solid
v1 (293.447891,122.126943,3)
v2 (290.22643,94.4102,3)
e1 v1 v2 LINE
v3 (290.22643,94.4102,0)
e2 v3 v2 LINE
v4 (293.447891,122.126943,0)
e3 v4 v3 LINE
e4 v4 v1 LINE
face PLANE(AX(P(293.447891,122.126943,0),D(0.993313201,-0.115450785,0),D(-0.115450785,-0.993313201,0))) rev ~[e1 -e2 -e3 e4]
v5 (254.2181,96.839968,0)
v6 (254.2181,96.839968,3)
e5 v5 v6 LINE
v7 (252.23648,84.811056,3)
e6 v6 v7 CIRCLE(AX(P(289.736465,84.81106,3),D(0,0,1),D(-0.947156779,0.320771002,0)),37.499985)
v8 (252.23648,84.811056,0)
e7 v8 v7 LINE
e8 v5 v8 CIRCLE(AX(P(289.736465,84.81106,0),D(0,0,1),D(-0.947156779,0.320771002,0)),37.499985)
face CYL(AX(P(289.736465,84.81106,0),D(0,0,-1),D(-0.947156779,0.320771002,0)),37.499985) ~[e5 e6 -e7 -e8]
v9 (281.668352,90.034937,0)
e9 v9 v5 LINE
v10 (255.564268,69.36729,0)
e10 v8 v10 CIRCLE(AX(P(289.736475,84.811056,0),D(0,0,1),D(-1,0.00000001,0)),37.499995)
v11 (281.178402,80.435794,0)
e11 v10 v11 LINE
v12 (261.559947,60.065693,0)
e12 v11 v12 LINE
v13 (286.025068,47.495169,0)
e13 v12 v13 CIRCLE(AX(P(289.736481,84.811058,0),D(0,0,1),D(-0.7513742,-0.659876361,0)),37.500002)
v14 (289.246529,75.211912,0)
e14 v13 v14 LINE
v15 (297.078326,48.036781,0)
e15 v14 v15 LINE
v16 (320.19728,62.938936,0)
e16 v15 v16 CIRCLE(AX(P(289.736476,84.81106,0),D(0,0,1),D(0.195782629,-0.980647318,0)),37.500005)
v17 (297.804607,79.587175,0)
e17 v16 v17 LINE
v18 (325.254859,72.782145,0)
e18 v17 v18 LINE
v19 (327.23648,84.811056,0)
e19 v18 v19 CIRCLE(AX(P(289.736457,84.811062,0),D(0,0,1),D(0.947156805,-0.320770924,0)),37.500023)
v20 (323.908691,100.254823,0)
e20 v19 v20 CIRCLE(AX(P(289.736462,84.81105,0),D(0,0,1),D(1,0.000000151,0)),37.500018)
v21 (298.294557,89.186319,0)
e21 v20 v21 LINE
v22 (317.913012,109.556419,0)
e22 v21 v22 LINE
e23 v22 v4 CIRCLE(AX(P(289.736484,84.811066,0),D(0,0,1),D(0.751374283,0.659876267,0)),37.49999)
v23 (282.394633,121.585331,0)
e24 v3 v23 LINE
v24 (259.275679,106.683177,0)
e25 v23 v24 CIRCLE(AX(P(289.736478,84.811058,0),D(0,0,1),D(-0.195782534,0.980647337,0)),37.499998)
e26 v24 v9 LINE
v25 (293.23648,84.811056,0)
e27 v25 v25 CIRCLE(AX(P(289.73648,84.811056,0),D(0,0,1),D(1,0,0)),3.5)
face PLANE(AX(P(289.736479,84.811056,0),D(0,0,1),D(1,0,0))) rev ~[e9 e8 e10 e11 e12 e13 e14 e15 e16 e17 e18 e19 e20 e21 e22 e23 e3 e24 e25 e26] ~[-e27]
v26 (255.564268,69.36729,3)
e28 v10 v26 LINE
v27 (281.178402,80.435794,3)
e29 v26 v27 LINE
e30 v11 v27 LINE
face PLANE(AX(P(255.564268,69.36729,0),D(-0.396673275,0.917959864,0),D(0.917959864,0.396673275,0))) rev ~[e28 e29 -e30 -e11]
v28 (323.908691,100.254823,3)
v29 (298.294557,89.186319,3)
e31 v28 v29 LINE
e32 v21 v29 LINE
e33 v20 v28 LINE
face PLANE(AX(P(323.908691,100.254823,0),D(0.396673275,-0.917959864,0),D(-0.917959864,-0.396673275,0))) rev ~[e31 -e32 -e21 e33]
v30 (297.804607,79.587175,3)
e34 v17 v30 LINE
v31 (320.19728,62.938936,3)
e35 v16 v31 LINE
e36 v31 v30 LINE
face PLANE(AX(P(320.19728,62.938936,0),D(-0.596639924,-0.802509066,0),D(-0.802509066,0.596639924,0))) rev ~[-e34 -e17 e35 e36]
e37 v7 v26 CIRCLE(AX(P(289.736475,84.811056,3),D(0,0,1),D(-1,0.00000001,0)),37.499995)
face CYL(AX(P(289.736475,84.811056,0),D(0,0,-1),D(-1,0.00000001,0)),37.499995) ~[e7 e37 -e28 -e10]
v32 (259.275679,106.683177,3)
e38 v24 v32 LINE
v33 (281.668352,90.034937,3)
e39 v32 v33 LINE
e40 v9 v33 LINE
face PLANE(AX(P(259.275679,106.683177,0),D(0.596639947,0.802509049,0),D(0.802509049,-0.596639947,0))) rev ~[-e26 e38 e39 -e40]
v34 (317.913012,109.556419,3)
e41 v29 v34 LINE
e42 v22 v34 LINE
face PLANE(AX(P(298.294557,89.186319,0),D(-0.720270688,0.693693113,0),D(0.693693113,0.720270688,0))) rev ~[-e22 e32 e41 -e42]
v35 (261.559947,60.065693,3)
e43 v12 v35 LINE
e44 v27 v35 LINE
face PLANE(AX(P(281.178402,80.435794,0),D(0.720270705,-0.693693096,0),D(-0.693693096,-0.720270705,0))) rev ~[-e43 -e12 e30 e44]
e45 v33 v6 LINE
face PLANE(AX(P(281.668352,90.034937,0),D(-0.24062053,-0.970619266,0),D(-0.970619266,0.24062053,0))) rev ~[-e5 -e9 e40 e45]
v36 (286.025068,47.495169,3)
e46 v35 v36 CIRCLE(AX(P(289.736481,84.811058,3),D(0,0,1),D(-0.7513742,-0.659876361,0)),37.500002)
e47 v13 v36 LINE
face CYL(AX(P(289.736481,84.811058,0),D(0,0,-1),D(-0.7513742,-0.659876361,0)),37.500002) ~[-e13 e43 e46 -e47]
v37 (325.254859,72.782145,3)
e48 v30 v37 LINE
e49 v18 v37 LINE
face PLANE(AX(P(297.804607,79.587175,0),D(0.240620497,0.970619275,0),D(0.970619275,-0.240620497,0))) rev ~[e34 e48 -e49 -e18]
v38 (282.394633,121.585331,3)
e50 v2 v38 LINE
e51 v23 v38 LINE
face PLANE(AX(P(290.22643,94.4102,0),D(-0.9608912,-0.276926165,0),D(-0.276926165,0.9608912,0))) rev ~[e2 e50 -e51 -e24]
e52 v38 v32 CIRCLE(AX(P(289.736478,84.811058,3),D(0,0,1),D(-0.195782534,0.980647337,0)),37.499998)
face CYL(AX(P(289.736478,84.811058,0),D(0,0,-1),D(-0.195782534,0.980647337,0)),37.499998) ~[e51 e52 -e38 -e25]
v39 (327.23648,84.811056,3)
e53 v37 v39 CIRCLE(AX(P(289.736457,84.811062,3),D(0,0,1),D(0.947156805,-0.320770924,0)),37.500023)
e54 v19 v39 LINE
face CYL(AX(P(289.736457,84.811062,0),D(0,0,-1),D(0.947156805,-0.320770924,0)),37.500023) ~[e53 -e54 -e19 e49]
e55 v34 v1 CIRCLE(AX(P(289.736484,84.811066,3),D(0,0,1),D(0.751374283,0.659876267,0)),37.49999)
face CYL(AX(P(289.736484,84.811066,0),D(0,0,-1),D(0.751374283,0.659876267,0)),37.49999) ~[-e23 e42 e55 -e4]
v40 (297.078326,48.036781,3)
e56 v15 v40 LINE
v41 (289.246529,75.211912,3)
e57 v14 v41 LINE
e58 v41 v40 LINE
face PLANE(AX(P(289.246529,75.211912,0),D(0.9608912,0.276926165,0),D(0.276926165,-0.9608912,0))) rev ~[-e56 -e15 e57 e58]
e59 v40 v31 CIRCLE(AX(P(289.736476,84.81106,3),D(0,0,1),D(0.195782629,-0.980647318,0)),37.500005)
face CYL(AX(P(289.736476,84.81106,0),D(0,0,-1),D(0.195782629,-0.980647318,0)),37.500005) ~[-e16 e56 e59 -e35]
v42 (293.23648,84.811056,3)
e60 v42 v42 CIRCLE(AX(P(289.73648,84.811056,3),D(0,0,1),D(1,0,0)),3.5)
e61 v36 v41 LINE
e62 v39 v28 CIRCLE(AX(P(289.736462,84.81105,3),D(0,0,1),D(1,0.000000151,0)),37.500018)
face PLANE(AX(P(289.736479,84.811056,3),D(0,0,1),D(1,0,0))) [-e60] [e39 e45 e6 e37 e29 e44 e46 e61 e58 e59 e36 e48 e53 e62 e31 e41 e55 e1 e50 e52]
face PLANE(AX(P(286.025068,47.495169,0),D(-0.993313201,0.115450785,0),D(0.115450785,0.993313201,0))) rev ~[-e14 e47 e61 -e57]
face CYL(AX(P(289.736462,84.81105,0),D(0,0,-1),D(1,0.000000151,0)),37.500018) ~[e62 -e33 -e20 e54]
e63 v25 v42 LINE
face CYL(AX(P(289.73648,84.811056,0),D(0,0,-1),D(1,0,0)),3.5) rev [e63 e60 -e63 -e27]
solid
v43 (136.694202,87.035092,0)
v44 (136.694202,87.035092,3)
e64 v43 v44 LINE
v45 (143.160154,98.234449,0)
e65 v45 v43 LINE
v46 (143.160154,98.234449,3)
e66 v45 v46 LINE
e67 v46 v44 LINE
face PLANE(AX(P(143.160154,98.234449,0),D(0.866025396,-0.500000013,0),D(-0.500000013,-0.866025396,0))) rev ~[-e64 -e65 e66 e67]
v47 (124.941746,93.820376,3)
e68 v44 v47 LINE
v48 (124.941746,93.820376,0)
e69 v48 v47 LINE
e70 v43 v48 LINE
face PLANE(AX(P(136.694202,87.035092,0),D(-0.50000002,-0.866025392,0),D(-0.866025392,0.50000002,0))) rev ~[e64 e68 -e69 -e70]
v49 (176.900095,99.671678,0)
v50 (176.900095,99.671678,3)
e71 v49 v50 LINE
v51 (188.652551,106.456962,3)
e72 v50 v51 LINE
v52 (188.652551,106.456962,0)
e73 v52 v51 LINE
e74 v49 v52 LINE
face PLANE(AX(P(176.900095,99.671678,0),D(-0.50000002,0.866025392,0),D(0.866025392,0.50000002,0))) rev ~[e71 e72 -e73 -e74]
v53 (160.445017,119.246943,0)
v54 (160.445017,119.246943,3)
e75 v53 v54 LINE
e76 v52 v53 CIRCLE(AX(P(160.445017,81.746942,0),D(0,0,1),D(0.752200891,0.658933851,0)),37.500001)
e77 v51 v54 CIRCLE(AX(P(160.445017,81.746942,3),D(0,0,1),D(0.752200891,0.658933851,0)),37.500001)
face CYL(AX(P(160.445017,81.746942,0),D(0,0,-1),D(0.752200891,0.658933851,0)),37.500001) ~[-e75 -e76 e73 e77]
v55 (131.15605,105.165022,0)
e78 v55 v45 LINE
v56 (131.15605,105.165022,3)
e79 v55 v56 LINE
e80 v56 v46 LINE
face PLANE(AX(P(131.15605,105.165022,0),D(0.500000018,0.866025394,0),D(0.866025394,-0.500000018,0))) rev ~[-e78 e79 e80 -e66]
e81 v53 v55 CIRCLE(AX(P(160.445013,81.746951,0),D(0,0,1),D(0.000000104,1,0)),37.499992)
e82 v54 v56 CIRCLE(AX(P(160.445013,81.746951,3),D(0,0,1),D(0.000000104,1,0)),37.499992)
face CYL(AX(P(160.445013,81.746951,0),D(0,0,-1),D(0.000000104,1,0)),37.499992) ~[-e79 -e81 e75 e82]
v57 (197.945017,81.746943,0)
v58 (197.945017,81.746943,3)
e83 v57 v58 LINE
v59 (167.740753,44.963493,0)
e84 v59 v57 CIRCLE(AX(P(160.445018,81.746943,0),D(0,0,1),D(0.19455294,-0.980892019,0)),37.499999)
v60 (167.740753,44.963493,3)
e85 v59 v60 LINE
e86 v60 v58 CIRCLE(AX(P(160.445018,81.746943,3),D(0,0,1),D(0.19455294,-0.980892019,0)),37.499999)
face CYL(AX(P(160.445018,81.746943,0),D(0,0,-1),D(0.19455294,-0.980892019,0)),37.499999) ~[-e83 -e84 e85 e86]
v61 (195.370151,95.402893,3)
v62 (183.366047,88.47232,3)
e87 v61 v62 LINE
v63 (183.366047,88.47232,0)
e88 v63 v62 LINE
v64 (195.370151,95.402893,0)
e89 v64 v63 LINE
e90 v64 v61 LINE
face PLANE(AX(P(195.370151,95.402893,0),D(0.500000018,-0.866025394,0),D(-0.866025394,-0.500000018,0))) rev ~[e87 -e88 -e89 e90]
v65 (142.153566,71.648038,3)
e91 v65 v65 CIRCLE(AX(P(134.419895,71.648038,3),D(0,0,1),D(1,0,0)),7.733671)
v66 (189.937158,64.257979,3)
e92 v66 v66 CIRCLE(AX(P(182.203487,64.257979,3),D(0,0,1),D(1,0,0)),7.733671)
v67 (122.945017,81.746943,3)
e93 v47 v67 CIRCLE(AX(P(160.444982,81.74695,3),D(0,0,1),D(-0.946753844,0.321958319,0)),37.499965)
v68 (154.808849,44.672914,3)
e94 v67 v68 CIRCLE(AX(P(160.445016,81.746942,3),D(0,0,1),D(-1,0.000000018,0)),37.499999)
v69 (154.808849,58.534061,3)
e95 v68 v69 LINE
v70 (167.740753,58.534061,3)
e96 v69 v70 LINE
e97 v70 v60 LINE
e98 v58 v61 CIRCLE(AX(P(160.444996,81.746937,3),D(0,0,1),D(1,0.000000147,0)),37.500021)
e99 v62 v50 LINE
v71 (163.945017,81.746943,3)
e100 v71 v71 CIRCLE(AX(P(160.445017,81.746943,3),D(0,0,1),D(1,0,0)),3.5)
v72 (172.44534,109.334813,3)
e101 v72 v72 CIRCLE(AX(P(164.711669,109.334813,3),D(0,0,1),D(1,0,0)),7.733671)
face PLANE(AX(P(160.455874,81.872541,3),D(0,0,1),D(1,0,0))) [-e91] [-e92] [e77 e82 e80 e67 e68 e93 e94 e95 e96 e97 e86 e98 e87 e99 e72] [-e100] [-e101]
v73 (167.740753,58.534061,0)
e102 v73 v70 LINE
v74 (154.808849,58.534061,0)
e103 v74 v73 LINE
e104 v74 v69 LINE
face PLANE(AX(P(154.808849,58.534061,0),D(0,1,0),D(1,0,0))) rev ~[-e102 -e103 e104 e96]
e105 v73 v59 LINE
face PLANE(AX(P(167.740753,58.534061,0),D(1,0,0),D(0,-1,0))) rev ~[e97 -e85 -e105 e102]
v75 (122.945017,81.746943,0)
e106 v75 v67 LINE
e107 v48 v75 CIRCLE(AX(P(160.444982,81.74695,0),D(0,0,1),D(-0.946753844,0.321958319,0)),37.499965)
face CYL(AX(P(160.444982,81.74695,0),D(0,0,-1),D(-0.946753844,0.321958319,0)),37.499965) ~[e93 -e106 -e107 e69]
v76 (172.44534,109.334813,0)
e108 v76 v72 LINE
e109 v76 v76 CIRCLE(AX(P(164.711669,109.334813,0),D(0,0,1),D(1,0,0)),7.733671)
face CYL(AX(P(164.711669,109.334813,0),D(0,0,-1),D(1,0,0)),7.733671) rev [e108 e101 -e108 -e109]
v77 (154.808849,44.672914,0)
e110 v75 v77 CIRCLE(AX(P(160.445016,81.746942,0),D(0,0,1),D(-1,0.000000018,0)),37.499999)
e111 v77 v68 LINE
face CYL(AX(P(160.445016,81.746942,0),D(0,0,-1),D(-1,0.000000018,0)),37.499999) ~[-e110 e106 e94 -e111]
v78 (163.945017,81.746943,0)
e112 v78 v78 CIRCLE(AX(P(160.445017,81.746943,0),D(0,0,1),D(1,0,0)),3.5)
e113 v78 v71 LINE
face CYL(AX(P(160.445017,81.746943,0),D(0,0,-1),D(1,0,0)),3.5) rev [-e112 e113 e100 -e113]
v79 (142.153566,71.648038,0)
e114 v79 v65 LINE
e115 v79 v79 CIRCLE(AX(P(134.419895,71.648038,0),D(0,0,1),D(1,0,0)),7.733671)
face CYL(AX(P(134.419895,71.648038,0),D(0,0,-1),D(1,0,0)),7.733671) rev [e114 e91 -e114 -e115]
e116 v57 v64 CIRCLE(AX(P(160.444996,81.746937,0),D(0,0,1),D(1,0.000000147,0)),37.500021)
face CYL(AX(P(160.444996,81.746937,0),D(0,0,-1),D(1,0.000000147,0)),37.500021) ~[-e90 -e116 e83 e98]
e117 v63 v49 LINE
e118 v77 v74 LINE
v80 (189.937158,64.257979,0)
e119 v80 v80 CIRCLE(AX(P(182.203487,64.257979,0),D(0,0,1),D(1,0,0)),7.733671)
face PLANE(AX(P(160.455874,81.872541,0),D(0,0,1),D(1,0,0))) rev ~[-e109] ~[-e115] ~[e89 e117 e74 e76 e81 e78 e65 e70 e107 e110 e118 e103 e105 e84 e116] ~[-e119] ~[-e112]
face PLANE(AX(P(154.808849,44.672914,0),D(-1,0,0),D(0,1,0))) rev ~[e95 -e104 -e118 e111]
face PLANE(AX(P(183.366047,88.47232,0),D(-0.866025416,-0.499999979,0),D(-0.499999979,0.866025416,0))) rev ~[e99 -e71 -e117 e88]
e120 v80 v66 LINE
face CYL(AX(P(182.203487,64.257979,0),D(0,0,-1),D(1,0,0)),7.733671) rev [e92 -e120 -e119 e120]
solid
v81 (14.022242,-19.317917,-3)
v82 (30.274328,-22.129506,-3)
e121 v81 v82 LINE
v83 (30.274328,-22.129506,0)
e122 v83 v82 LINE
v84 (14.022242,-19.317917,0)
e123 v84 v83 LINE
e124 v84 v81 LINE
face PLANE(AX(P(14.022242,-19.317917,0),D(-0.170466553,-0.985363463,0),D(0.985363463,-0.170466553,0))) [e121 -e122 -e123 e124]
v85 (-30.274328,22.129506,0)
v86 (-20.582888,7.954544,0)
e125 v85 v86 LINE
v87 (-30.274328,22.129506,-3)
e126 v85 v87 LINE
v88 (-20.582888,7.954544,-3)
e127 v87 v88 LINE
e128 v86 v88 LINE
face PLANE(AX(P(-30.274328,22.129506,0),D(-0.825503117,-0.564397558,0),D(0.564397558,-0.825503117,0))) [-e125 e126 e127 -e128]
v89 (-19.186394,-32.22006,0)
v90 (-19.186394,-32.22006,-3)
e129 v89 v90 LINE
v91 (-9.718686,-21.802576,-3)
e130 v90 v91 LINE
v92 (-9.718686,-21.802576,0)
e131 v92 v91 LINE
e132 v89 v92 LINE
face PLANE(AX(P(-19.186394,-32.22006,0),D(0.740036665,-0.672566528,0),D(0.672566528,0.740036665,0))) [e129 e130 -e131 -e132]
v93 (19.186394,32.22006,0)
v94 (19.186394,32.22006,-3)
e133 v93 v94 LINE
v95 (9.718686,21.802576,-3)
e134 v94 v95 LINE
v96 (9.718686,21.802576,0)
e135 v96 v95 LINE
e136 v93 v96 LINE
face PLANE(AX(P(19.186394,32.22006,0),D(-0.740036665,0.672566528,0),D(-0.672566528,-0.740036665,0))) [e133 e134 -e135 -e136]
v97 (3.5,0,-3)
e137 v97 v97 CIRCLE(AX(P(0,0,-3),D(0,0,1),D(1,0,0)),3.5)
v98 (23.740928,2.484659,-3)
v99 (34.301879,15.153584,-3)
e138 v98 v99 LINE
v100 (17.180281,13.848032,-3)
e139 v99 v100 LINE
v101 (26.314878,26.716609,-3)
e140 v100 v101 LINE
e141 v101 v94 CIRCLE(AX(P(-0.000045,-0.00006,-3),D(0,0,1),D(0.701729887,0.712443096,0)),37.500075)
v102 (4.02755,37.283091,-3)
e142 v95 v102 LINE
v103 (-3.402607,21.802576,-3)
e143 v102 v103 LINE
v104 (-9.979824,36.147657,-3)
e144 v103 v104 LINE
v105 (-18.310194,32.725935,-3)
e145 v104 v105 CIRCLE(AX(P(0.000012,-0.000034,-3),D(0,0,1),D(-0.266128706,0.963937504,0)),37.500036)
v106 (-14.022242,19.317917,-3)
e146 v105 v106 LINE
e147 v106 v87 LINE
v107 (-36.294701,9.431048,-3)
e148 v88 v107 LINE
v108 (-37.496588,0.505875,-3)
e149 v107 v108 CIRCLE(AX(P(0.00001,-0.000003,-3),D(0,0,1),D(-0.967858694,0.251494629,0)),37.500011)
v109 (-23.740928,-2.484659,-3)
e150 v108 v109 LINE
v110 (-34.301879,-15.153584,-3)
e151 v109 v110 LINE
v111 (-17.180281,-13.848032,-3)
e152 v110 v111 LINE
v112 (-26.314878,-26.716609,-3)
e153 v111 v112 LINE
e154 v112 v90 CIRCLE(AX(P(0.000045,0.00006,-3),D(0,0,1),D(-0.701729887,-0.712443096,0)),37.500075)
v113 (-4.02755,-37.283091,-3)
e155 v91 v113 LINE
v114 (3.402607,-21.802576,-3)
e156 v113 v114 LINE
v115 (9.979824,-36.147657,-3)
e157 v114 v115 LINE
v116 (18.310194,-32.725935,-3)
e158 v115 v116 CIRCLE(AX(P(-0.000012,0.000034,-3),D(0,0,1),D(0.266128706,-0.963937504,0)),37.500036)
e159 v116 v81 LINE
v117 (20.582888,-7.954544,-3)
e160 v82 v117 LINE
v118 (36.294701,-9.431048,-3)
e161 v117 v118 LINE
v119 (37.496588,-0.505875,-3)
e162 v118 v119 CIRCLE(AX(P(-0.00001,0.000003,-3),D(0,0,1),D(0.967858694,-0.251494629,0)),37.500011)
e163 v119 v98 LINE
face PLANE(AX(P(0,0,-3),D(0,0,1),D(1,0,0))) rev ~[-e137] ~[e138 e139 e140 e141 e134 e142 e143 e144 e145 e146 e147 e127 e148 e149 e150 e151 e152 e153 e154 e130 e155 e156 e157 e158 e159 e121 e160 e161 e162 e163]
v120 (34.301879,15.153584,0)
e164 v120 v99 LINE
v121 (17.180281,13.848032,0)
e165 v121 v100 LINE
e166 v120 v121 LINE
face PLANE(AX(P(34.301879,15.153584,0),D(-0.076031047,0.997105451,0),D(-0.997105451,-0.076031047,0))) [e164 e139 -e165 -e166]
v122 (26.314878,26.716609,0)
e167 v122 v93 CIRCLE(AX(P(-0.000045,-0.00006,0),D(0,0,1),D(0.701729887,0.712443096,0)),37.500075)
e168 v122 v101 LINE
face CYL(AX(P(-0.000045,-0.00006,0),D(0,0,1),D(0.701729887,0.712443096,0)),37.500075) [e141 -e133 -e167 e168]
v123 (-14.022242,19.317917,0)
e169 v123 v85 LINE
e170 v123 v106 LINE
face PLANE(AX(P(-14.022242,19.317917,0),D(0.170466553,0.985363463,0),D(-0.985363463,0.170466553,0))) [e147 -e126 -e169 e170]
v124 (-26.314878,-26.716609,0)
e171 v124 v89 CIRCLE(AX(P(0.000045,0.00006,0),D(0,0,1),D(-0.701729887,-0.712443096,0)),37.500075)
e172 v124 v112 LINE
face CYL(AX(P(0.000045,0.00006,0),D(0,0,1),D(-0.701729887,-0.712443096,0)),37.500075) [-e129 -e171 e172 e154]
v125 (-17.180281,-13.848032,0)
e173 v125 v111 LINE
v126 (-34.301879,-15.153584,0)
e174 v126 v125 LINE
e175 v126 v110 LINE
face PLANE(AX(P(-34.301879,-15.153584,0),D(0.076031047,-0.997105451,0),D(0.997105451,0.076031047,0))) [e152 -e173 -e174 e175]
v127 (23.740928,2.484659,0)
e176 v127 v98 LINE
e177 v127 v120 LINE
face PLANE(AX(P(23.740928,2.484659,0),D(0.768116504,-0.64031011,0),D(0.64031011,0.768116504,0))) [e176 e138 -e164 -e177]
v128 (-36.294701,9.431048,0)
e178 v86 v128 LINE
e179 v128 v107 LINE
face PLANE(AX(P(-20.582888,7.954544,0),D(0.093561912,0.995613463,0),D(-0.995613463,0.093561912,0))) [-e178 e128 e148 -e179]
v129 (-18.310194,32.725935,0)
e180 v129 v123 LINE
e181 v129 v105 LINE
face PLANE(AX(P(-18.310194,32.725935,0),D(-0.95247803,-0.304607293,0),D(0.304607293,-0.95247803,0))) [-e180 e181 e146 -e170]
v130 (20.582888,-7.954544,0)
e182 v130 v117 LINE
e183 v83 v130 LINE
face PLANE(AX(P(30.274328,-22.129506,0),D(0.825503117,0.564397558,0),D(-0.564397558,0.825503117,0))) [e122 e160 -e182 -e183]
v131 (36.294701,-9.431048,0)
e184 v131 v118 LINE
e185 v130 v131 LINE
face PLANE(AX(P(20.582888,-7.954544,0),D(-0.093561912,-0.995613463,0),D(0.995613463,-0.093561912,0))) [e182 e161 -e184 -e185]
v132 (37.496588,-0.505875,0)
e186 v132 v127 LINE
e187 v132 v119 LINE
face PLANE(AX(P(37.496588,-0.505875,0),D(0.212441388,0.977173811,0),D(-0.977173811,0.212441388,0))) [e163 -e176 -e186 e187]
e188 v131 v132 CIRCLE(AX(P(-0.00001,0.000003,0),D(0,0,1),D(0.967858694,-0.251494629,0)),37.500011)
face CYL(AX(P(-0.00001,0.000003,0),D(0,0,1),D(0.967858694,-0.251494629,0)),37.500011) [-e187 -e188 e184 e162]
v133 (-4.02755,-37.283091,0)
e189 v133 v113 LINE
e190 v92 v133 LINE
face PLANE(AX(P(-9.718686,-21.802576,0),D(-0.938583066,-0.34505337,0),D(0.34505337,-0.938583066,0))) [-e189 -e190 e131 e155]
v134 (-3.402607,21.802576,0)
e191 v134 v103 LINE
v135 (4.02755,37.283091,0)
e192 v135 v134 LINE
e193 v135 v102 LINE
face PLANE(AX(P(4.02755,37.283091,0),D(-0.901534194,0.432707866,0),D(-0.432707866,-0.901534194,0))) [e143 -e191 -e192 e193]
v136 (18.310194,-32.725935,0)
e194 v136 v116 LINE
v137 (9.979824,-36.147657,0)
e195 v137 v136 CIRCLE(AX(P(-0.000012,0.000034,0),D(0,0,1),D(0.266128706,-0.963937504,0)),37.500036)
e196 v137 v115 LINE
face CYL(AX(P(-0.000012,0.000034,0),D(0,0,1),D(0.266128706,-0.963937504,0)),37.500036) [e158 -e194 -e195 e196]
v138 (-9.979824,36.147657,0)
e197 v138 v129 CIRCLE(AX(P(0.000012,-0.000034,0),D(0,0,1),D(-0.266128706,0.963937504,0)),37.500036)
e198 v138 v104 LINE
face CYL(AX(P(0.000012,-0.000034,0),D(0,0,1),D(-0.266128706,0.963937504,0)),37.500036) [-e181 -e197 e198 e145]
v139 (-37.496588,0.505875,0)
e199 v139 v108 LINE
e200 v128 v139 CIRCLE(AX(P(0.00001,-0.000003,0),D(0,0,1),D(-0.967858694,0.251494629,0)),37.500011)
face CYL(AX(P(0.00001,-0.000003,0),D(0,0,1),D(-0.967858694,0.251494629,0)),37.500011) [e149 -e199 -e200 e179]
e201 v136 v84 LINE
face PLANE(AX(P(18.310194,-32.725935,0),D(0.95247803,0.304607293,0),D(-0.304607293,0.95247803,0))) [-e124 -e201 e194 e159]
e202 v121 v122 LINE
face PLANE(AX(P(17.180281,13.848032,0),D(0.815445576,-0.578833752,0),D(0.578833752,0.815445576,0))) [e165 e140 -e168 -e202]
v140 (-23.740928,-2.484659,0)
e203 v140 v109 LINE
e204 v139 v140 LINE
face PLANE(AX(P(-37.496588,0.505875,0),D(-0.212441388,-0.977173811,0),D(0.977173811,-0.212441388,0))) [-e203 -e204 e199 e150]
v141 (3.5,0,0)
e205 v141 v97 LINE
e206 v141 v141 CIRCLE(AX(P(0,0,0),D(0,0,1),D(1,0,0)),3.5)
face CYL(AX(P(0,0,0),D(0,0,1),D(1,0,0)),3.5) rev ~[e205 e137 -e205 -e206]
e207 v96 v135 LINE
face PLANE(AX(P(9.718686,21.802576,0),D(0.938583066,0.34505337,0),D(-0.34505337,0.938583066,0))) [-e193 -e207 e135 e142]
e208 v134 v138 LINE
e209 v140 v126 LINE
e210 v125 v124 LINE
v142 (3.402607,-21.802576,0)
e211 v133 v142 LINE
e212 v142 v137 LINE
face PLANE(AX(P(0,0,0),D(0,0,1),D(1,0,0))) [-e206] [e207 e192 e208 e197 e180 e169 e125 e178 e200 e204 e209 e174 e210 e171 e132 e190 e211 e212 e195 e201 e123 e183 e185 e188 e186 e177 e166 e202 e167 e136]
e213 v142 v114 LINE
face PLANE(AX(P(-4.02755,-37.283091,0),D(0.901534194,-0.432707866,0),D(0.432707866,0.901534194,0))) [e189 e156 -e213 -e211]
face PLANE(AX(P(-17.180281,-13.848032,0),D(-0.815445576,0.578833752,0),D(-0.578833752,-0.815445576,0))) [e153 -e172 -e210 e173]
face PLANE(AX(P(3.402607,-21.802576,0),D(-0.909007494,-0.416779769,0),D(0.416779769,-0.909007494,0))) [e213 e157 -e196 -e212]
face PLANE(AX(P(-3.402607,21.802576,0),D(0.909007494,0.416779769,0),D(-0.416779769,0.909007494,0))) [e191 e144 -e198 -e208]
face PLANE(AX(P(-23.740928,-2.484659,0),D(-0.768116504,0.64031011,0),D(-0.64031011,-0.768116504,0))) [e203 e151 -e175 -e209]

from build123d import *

# Parameters (mm, degrees)
F0_R     = 3.5
F1_DEPTH = 3
F2_R     = 7.733671
F2_R_2   = 3.5
F3_DEPTH = 3
F4_R     = 3.5
F5_DEPTH = 3


with BuildPart() as f1:
    # F0 (on Top) → F1 (new body)
    with BuildSketch(Plane.XY):
        with BuildLine():
            Line((-9.718686, -21.802576), (-4.02755, -37.283091))
            Line((-4.02755, -37.283091), (3.402607, -21.802576))
            Line((3.402607, -21.802576), (9.979824, -36.147657))
            ThreePointArc((9.979824, -36.147657), (14.248099, -34.687774), (18.310194, -32.725935))
            Line((18.310194, -32.725935), (14.022242, -19.317917))
            Line((14.022242, -19.317917), (30.274328, -22.129506))
            Line((30.274328, -22.129506), (20.582888, -7.954544))
            Line((20.582888, -7.954544), (36.294701, -9.431048))
            ThreePointArc((36.294701, -9.431048), (37.164543, -5.004672), (37.496588, -0.505875))
            Line((37.496588, -0.505875), (23.740928, 2.484659))
            Line((23.740928, 2.484659), (34.301879, 15.153584))
            Line((34.301879, 15.153584), (17.180281, 13.848032))
            Line((17.180281, 13.848032), (26.314878, 26.716609))
            ThreePointArc((26.314878, 26.716609), (22.916444, 29.683102), (19.186394, 32.22006))
            Line((19.186394, 32.22006), (9.718686, 21.802576))
            Line((9.718686, 21.802576), (4.02755, 37.283091))
            Line((4.02755, 37.283091), (-3.402607, 21.802576))
            Line((-3.402607, 21.802576), (-9.979824, 36.147657))
            ThreePointArc((-9.979824, 36.147657), (-14.248099, 34.687774), (-18.310194, 32.725935))
            Line((-18.310194, 32.725935), (-14.022242, 19.317917))
            Line((-14.022242, 19.317917), (-30.274328, 22.129506))
            Line((-30.274328, 22.129506), (-20.582888, 7.954544))
            Line((-20.582888, 7.954544), (-36.294701, 9.431048))
            ThreePointArc((-36.294701, 9.431048), (-37.164543, 5.004672), (-37.496588, 0.505875))
            Line((-37.496588, 0.505875), (-23.740928, -2.484659))
            Line((-23.740928, -2.484659), (-34.301879, -15.153584))
            Line((-34.301879, -15.153584), (-17.180281, -13.848032))
            Line((-17.180281, -13.848032), (-26.314878, -26.716609))
            ThreePointArc((-26.314878, -26.716609), (-22.916444, -29.683102), (-19.186394, -32.22006))
            Line((-19.186394, -32.22006), (-9.718686, -21.802576))
        make_face()
        Circle(F0_R, mode=Mode.SUBTRACT)
    extrude(amount=-F1_DEPTH)


with BuildPart() as f3:
    # F2 (on Top) → F3 (new body)
    with BuildSketch(Plane.XY):
        with BuildLine():
            ThreePointArc((124.941746, 93.820376), (123.447566, 87.865658), (122.945017, 81.746943))
            ThreePointArc((122.945017, 81.746943), (132.005552, 57.304217), (154.808849, 44.672914))
            Line((154.808849, 44.672914), (154.808849, 58.534061))
            Line((154.808849, 58.534061), (167.740753, 58.534061))
            Line((167.740753, 58.534061), (167.740753, 44.963493))
            ThreePointArc((167.740753, 44.963493), (189.426391, 57.949255), (197.945017, 81.746943))
            ThreePointArc((197.945017, 81.746943), (197.295678, 88.695233), (195.370151, 95.402893))
            Line((195.370151, 95.402893), (183.366047, 88.47232))
            Line((183.366047, 88.47232), (176.900095, 99.671678))
            Line((176.900095, 99.671678), (188.652551, 106.456962))
            ThreePointArc((188.652551, 106.456962), (175.930886, 115.900096), (160.445017, 119.246943))
            ThreePointArc((160.445017, 119.246943), (144.195831, 115.5436), (131.15605, 105.165022))
            Line((131.15605, 105.165022), (143.160154, 98.234449))
            Line((143.160154, 98.234449), (136.694202, 87.035092))
            Line((136.694202, 87.035092), (124.941746, 93.820376))
        make_face()
        with Locations((134.419895, 71.648038)):
            Circle(F2_R, mode=Mode.SUBTRACT)
        with Locations((160.445017, 81.746943)):
            Circle(F2_R_2, mode=Mode.SUBTRACT)
        with Locations((182.203487, 64.257979)):
            Circle(F2_R, mode=Mode.SUBTRACT)
        with Locations((164.711669, 109.334813)):
            Circle(F2_R, mode=Mode.SUBTRACT)
    extrude(amount=F3_DEPTH)


with BuildPart() as f5:
    # F4 (on Top) → F5 (new body)
    with BuildSketch(Plane.XY):
        with BuildLine():
            ThreePointArc((254.2181, 96.839968), (252.735201, 90.906578), (252.23648, 84.811056))
            ThreePointArc((252.23648, 84.811056), (253.077866, 76.911941), (255.564268, 69.36729))
            Line((255.564268, 69.36729), (281.178402, 80.435794))
            Line((281.178402, 80.435794), (261.559947, 60.065693))
            ThreePointArc((261.559947, 60.065693), (272.598371, 51.456368), (286.025068, 47.495169))
            Line((286.025068, 47.495169), (289.246529, 75.211912))
            Line((289.246529, 75.211912), (297.078326, 48.036781))
            ThreePointArc((297.078326, 48.036781), (310.053433, 53.291675), (320.19728, 62.938936))
            Line((320.19728, 62.938936), (297.804607, 79.587175))
            Line((297.804607, 79.587175), (325.254859, 72.782145))
            ThreePointArc((325.254859, 72.782145), (326.737758, 78.715535), (327.23648, 84.811056))
            ThreePointArc((327.23648, 84.811056), (326.395093, 92.710172), (323.908691, 100.254823))
            Line((323.908691, 100.254823), (298.294557, 89.186319))
            Line((298.294557, 89.186319), (317.913012, 109.556419))
            ThreePointArc((317.913012, 109.556419), (306.874588, 118.165745), (293.447891, 122.126943))
            Line((293.447891, 122.126943), (290.22643, 94.4102))
            Line((290.22643, 94.4102), (282.394633, 121.585331))
            ThreePointArc((282.394633, 121.585331), (269.419526, 116.330438), (259.275679, 106.683177))
            Line((259.275679, 106.683177), (281.668352, 90.034937))
            Line((281.668352, 90.034937), (254.2181, 96.839968))
        make_face()
        with Locations((289.73648, 84.811056)):
            Circle(F4_R, mode=Mode.SUBTRACT)
    extrude(amount=F5_DEPTH)


solid = Compound([f1.part, f3.part, f5.part])
